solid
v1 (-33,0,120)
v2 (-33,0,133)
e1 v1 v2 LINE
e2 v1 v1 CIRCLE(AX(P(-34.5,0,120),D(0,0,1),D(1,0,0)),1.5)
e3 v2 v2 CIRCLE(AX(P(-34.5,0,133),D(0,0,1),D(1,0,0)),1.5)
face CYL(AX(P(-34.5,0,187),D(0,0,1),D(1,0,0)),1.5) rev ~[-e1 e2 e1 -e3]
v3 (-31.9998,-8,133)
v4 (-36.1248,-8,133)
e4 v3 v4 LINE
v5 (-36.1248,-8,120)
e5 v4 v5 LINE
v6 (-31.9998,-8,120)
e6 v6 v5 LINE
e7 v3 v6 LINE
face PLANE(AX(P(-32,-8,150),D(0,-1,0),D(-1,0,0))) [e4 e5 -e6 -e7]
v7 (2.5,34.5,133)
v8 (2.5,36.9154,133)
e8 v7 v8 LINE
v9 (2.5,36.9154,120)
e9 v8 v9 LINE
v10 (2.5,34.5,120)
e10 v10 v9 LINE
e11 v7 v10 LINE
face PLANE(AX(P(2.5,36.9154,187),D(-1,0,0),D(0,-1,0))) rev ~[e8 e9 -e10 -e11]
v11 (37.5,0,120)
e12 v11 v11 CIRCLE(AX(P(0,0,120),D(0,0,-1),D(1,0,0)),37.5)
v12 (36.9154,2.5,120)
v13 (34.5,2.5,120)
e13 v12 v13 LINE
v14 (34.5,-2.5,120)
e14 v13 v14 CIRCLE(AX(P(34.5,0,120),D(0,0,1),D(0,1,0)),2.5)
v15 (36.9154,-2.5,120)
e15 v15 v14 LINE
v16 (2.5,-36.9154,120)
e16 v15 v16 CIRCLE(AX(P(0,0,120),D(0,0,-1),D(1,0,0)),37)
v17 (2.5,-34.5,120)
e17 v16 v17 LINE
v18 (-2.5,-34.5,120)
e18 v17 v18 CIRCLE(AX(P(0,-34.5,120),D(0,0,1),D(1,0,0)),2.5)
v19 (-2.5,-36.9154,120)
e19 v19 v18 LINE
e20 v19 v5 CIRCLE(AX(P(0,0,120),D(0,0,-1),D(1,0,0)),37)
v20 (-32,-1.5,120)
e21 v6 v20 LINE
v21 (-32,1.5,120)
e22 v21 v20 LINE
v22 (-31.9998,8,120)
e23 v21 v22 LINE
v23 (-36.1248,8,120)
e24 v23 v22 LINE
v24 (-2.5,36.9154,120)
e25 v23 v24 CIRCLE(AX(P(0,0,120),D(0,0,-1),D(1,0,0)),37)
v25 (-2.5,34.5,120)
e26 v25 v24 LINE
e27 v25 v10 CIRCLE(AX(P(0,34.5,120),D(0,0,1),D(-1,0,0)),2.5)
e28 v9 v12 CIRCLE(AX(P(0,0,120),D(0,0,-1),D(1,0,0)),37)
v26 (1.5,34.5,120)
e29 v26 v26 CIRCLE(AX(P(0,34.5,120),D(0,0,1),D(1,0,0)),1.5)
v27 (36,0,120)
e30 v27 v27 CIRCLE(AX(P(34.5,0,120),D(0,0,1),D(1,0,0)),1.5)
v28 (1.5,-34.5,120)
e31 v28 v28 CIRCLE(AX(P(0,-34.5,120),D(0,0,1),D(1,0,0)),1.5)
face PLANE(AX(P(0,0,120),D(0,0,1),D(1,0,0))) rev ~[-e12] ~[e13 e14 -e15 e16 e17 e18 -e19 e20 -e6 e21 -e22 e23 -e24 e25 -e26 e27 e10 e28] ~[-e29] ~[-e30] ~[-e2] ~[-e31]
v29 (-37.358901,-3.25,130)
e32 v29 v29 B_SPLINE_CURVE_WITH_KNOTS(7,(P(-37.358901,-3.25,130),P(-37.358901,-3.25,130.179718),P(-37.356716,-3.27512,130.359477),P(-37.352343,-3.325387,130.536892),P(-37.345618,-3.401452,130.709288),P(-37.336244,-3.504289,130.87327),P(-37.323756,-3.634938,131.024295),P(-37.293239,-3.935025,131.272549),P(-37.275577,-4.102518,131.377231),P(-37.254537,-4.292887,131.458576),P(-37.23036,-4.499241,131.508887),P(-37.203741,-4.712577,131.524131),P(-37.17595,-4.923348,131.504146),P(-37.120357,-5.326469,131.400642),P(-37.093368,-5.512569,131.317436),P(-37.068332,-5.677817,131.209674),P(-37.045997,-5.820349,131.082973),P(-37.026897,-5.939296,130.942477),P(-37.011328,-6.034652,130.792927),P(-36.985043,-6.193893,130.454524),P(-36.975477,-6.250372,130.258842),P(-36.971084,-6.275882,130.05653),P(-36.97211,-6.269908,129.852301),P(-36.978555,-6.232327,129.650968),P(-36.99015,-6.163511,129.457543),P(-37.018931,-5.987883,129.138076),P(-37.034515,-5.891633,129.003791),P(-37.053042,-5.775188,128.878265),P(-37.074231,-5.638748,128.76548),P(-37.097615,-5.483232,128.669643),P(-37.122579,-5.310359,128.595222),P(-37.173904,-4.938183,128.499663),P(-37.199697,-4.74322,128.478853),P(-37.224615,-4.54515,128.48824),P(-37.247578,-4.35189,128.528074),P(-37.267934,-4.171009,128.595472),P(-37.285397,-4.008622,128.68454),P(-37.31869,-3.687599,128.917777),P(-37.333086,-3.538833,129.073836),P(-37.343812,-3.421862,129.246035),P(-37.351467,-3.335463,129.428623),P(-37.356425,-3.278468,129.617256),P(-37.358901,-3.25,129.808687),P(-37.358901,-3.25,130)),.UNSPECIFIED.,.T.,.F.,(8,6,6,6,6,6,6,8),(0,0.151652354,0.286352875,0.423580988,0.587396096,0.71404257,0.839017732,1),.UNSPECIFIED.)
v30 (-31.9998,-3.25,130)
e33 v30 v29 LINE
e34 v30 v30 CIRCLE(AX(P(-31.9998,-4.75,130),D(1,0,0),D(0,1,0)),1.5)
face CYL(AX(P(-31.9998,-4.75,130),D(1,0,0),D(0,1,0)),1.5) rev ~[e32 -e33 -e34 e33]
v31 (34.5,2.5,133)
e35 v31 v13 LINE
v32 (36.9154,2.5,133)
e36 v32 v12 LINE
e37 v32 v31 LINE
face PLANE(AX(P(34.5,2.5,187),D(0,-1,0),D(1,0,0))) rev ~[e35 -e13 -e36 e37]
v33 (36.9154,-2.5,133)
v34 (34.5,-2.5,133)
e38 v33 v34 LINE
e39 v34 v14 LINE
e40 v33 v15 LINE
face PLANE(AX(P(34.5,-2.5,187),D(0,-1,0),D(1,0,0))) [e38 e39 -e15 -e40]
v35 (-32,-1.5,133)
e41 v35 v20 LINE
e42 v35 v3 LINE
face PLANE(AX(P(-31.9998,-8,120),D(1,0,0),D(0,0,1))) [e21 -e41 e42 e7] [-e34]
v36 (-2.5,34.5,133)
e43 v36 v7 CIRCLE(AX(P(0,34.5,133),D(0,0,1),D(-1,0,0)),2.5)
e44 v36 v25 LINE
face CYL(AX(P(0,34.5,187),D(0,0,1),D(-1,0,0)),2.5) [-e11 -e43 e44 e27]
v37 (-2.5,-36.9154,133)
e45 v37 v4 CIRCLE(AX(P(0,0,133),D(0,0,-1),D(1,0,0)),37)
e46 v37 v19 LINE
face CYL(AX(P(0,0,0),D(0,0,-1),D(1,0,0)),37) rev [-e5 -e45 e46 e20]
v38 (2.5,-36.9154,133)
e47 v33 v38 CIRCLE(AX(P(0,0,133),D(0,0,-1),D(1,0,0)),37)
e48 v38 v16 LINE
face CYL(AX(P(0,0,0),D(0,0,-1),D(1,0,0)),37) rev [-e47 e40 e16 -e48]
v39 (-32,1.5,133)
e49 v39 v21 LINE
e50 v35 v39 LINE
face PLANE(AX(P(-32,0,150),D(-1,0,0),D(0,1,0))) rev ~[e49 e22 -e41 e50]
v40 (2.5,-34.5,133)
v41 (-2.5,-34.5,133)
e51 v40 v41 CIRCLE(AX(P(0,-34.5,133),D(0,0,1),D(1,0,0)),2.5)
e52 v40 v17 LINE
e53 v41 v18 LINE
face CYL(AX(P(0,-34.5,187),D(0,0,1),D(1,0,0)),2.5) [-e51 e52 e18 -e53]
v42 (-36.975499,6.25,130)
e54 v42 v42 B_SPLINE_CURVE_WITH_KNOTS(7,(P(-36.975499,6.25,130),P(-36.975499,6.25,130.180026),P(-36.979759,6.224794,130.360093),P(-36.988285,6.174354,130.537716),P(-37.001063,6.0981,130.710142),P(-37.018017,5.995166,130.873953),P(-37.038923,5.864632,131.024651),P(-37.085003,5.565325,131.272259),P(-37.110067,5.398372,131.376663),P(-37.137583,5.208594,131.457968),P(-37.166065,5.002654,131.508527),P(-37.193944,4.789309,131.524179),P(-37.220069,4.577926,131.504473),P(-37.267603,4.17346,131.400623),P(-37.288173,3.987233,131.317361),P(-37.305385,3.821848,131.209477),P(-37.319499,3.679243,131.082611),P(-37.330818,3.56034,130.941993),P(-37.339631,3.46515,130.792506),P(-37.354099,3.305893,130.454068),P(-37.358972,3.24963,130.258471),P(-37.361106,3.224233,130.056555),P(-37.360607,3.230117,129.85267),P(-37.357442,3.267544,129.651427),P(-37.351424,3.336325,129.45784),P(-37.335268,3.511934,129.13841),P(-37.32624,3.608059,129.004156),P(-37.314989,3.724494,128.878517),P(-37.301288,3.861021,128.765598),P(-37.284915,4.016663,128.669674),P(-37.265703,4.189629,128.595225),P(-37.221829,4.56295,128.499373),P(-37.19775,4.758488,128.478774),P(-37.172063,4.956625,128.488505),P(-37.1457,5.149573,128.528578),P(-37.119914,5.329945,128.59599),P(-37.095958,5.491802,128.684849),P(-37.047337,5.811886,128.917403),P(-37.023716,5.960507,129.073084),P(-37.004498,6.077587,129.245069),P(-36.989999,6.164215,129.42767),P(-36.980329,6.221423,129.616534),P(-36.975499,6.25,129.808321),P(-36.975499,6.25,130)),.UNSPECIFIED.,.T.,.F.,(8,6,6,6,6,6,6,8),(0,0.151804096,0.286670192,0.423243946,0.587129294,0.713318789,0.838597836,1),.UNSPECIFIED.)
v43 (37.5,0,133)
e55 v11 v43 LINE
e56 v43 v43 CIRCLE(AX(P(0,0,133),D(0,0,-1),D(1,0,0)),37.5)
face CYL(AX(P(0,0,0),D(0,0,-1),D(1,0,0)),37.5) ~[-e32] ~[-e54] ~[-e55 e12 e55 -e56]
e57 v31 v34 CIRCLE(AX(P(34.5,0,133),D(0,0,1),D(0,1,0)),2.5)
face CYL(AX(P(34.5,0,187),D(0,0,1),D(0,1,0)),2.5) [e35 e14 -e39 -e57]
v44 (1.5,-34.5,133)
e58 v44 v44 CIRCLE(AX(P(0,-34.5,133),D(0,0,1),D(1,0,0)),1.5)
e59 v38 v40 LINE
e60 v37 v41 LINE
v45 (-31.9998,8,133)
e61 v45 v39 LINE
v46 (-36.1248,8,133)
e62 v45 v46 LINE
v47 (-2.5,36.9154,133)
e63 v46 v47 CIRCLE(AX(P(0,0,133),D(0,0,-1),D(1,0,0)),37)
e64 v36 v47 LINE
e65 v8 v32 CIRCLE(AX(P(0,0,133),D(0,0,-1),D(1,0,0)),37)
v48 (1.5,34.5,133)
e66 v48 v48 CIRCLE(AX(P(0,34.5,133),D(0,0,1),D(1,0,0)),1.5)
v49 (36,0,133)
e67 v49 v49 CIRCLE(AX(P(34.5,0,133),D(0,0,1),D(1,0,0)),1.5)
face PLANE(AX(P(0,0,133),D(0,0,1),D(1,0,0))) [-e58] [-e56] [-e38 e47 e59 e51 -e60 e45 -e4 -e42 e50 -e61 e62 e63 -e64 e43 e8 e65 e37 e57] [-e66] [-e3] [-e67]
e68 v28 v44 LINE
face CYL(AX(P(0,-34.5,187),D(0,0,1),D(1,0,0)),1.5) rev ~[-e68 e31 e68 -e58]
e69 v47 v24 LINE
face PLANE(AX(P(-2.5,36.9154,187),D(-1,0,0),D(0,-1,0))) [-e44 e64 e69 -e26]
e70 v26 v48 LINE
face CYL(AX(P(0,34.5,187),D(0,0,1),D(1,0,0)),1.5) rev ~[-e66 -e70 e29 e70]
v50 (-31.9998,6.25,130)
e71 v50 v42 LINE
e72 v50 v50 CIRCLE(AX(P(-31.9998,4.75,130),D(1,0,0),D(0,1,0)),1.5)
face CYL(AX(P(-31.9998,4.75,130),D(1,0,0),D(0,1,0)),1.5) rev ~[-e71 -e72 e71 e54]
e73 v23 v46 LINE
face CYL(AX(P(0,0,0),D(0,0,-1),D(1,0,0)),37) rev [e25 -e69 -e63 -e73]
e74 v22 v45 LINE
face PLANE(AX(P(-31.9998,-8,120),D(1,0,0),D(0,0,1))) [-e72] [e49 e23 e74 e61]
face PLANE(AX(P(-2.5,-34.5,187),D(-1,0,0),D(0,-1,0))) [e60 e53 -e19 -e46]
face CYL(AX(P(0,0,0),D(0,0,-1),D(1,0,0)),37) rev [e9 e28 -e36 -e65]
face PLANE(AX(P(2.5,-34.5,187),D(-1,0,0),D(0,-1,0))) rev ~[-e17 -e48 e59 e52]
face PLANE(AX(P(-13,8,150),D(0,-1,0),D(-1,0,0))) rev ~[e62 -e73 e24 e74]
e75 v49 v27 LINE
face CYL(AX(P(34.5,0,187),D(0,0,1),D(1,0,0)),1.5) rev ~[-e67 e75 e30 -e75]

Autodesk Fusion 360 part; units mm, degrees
sketch "Esboço2" plane through (0, 0, 0) normal (0, 0, 1) x (1, 0, 0)
  circle A0 centre (0, 0) radius 37.5
  circle A1 centre (0, 0) radius 37
  dimension "d6" = 75
  dimension "d7" = 74
extrude "Extrusão2" add sketch "Esboço2" along normal blind 190
ref_plane "Plano de trabalho9" through (0, 0, 187) normal (0, 0, 1) x (1, 0, 0)
sketch "Esboço10" plane through (0, 0, 187) normal (0, 0, 1) x (1, 0, 0)
  circle A0 centre (0, 0) radius 34.5 construction
  line L0 (0, 0) -> (-68.1762, 0) construction
  line L1 (0, 0) -> (60, 0) construction
  line L2 (0, 0) -> (0, 45) construction
  line L3 (0, 0) -> (0, -43.1659) construction
  circle A1 centre (34.5, 0) radius 1.5
  line L4 (3, -43) -> (3, -42)
  circle A2 centre (0, 34.5) radius 1.5
  circle A3 centre (-34.5, 0) radius 1.5
  circle A4 centre (0, -34.5) radius 1.5
  arc A5 (34.5, 2.5) -> (34.5, -2.5) centre (34.5, 0) ccw
  arc A6 (-2.5, 34.5) -> (2.5, 34.5) centre (0, 34.5) ccw
  arc A7 (-34.5, -2.5) -> (-34.5, 2.5) centre (-34.5, 0) ccw
  arc A8 (2.5, -34.5) -> (-2.5, -34.5) centre (0, -34.5) ccw
  circle A9 centre (0, 0) radius 37
  line L5 (-36.9154, 2.5) -> (-34.4093, 2.5)
  line L6 (-36.9154, -2.5) -> (-34.4093, -2.5)
  line L7 (34.5, 2.5) -> (36.9154, 2.5)
  line L8 (34.5, -2.5) -> (36.9154, -2.5)
  line L9 (2.5, 36.9154) -> (2.5, 34.4093)
  line L10 (-2.5, 36.9154) -> (-2.5, 34.4093)
  line L11 (-2.5, -34.4093) -> (-2.5, -36.9154)
  line L12 (2.5, -34.4093) -> (2.5, -36.9154)
  dimension "d82" = 69
  dimension "d83" = 3
  dimension "d84" = 2.5
  dimension "d85" = 2.5
  dimension "d87" = 360
  dimension "d89" = 360
  dimension "d90" = 2.5
extrude "Extrusão12" add sketch "Esboço10" against normal blind 184 contours A5 A9 L7 L8 | A6 A9 L9 L10 | A8 A9 L11 L12 | A7 A9 L5 L6
thread "Rosca3"
ref_plane "Plano de trabalho3" through (0, 0, 32) normal (0, 0, 1) x (1, 0, 0)
sketch "Esboço3" plane through (0, 0, 32) normal (0, 0, 1) x (1, 0, 0)
  line L0 (0, 0) -> (0, 37) construction
  line L1 (34.2491, 14) -> (-34.2491, 14)
  circle A0 centre (0, 0) radius 37
  line L2 (31.1288, 20) -> (-31.1288, 20)
  line L3 (32.8634, 17) -> (-32.8634, 17)
  circle A1 centre (0, 0) radius 50
  circle A2 centre (0, 0) radius 37.5
  line L4 (-8, 0) -> (8, 0)
  line L5 (8, 0) -> (8, 36.1248)
  line L6 (-8, 0) -> (-8, 36.1248)
  circle A3 centre (0, 34.5) radius 1.5
  line L7 (1.5, 32.5) -> (1.5, 0)
  arc A4 (-2.5, 34.5) -> (2.5, 34.5) centre (0, 34.5) ccw
  line L8 (-1.5, 32.5) -> (-1.5, 0)
  line L9 (27.8634, 24.3441) -> (27.8634, 11)
  line L10 (27.8634, 11) -> (35.327, 11)
  line L11 (-27.8634, 11) -> (-35.327, 11)
  line L12 (-27.8634, 24.3441) -> (-27.8634, 11)
  line L13 (-30.4631, 21) -> (30.4631, 21)
  line L14 (-34.641, 13) -> (34.641, 13)
  line L15 (0, 32) -> (8, 32)
  line L16 (0, 32) -> (-8, 32)
  dimension "d12" = 6
  dimension "d15" = 3
  dimension "d17" = 75
  dimension "d18" = 100
  dimension "d41" = 14
  dimension "d51" = 8
  dimension "d52" = 16
  dimension "d99" = 3
  dimension "d100" = 2.5
  dimension "d115" = 6.5
  dimension "d123" = 5
  dimension "d124" = 6
  dimension "d143" = 4
  dimension "d144" = 4
extrude "Extrusão21" add sketch "Esboço3" along normal blind 6 and the other way blind 6 contours L1 A0 L9 L14 | L1 A0 L3 L9 | A0 L9 L10 L14 | A0 L2 L3 L9 | A0 L2 L9 L13 | A0 L9 L13 | A0 L11 L12 L14 | L1 A0 L12 L14 | L1 A0 L3 L12 | A0 L2 L3 L12 | A0 L12 L13 | A0 L2 L12 L13
sketch "Esboço18" plane through (-27.8634, 0, 0) normal (1, 0, 0) x (0, 1, 0)
  line L0 (24.3441, 26) -> (24.3441, 38)
  line L1 (24.3441, 38) -> (11, 38)
  line L2 (11, 38) -> (11, 26)
  line L3 (11, 26) -> (24.3441, 26)
  circle A0 centre (17, 32) radius 4
  point P0 (11, 32)
  dimension "d166" = 8
  dimension "d167" = 6
  dimension "d168" = 6
ref_plane "Plano de trabalho11" through (0, 0, 0) normal (1, 0, 0) x (0, 1, 0)
extrude "Extrusão23" cut sketch "Esboço18" against normal blind 15 contours A0
extrude "Extrusão7" add sketch "Esboço3" along normal blind 30 and the other way blind 30 contours L1 L5 L7 L14 | L1 L3 L5 L7 | L4 L5 L7 L14 | L2 L3 L5 L7 | L1 L6 L8 L14 | L1 L3 L6 L8 | L2 L5 L7 L13 | L2 L3 L6 L8 | L4 L6 L8 L14 | L5 L7 L13 L15 | A0 L5 L6 L7 A4 L8 L15 L16 | L2 L6 L8 L13 | L6 L8 L13 L16 | L7 A4 L15 | A4 L8 L16
sketch "Esboço19" plane through (27.8634, 0, 0) normal (-1, 0, 0) x (0, -1, 0)
  line L0 (-11, 26) -> (-11, 38)
  line L1 (-11, 38) -> (-24.3441, 38)
  line L2 (-24.3441, 38) -> (-24.3441, 26)
  line L3 (-24.3441, 26) -> (-11, 26)
extrude "Extrusão24" cut sketch "Esboço18" along normal blind 80 contours A0
sketch "Esboço11" plane through (8, 0, 0) normal (1, 0, 0) x (0, 1, 0)
  line L0 (0, 2) -> (36.1248, 2)
  line L1 (36.1248, 2) -> (36.1248, 62)
  line L2 (36.1248, 62) -> (0, 62)
  line L3 (0, 62) -> (0, 2)
  circle A0 centre (17, 32) radius 3
  circle A1 centre (17, 32) radius 9.5
  circle A2 centre (17, 32) radius 12.5
  line L4 (36.1248, 32) -> (36.1248, -5) construction
  line L5 (0, 32) -> (36.1248, 32)
  line L6 (30.1248, 2) -> (8.3278, 22.9976)
  line L7 (30.1248, 62) -> (8.3278, 41.0024)
  line L8 (30.1248, 2) -> (31.9998, 2)
  line L9 (31.9998, 2) -> (31.9998, 32)
  line L10 (30.1248, 62) -> (31.9998, 62)
  line L11 (31.9998, 62) -> (31.9998, 32)
  circle A3 centre (17, 32) radius 4
  point P0 (14, 32)
  point P1 (20, 32)
  dimension "d106" = 6
  dimension "d107" = 19
  dimension "d109" = 25
  dimension "d110" = 6
  dimension "d147" = 1.875
extrude "Extrusão13" cut sketch "Esboço11" against normal blind 16 contours L0 L3 A2 L5 L6 | L0 A2 L5 L6 L8 L9 | L2 L3 A2 L5 L7 | A1 A2 L5 | A1 A2 L5 | L2 A2 L5 L7 L10 L11 | A1 L5 A3 | A1 L5 A3 | A0 L5 A3 | A0 L5 A3 | A0 L5 | A0 L5
ref_plane "Plano de trabalho4" through (0, 0, 150) normal (0, 0, 1) x (1, 0, 0)
sketch "Esboço4" plane through (0, 0, 150) normal (0, 0, 1) x (1, 0, 0)
  circle A0 centre (0, 0) radius 37
  circle A1 centre (0, 0) radius 50
  circle A2 centre (0, 0) radius 37.5
  line L0 (-20, -31.1288) -> (-20, 31.1288)
  line L1 (-17, -32.8634) -> (-17, 32.8634)
  line L2 (-14, -34.2491) -> (-14, 34.2491)
  line L3 (0, 8) -> (0, -8)
  line L4 (0, 8) -> (-36.1248, 8)
  line L5 (0, -8) -> (-36.1248, -8)
  line L6 (0, 0) -> (-37, 0) construction
  circle A3 centre (-34.5, 0) radius 1.5
  line L7 (0, 1.5) -> (-32.5, 1.5)
  arc A4 (-34.5, -2.5) -> (-34.5, 2.5) centre (-34.5, 0) ccw
  line L8 (0, -1.5) -> (-32.5, -1.5)
  line L9 (-24.3441, -27.8634) -> (-11, -27.8634)
  line L10 (-11, -27.8634) -> (-11, -35.327)
  line L11 (-24.3441, 27.8634) -> (-11, 27.8634)
  line L12 (-11, 27.8634) -> (-11, 35.327)
  line L13 (-13, 34.641) -> (-13, -34.641)
  line L14 (-21, 30.4631) -> (-21, -30.4631)
  line L15 (-32, 0) -> (-32, 8)
  line L16 (-32, 0) -> (-32, -8)
  dimension "d28" = 75
  dimension "d29" = 100
  dimension "d38" = 14
  dimension "d39" = 6
  dimension "d40" = 3
  dimension "d43" = 16
  dimension "d44" = 8
  dimension "d101" = 3
  dimension "d102" = 2.5
  dimension "d116" = 6.5
  dimension "d135" = 6
  dimension "d136" = 5
  dimension "d145" = 4
  dimension "d146" = 4
extrude "Extrusão25" add sketch "Esboço4" along normal blind 6 and the other way blind 6 contours A0 L11 L12 L13 | A0 L9 L10 L13 | A0 L2 L11 L13 | A0 L2 L9 L13 | A0 L1 L2 L11 | A0 L1 L2 L9 | A0 L0 L1 L11 | A0 L0 L1 L9 | A0 L0 L11 L14 | A0 L0 L9 L14 | A0 L11 L14 | A0 L9 L14
sketch "Esboço20" plane through (0, 27.8634, 0) normal (0, -1, 0) x (1, 0, 0)
  line L0 (-11, 144) -> (-11, 156)
  line L1 (-11, 156) -> (-24.3441, 156)
  line L2 (-24.3441, 156) -> (-24.3441, 144)
  line L3 (-24.3441, 144) -> (-11, 144)
  circle A0 centre (-17, 150) radius 4
  dimension "d179" = 8
  dimension "d180" = 6
  dimension "d182" = 6
extrude "Extrusão26" cut sketch "Esboço20" against normal blind 15 contours A0
sketch "Esboço21" plane through (0, -27.8634, 0) normal (0, 1, 0) x (-1, 0, 0)
  line L0 (24.3441, 144) -> (24.3441, 156)
  line L1 (24.3441, 156) -> (11, 156)
  line L2 (11, 156) -> (11, 144)
  line L3 (11, 144) -> (24.3441, 144)
  circle A0 centre (17, 150) radius 4
  dimension "d185" = 8
  dimension "d186" = 6
  dimension "d187" = 6
extrude "Extrusão27" cut sketch "Esboço21" against normal blind 15 contours A0
extrude "Extrusão6" add sketch "Esboço4" along normal blind 30 and the other way blind 30 contours L2 L4 L7 L13 | L3 L4 L7 L13 | L3 L5 L8 L13 | L2 L5 L8 L13 | L1 L2 L4 L7 | L1 L2 L5 L8 | L0 L1 L4 L7 | L0 L1 L5 L8 | L0 L4 L7 L14 | L0 L5 L8 L14 | A0 L4 L5 L7 A4 L8 L15 L16 | L4 L7 L14 L15 | L5 L8 L14 L16 | L7 A4 L15 | A4 L8 L16
sketch "Esboço13" plane through (0, -8, 0) normal (0, -1, 0) x (1, 0, 0)
  line L0 (0, 120) -> (0, 180)
  line L1 (0, 180) -> (-36.1248, 180)
  line L2 (-36.1248, 180) -> (-36.1248, 120)
  line L3 (-36.1248, 120) -> (0, 120)
  circle A0 centre (-17, 150) radius 3
  circle A1 centre (-17, 150) radius 9.5
  circle A2 centre (-17, 150) radius 12.5
  line L4 (-36.1248, 150) -> (-36.1248, 198.4836) construction
  line L5 (-30.1248, 180) -> (-6.6704, 157.4058)
  line L6 (0, 150) -> (-36.1248, 150)
  line L7 (-30.1248, 120) -> (-6.6704, 142.5942)
  line L8 (-30.1248, 180) -> (-31.9998, 180)
  line L9 (-31.9998, 180) -> (-31.9998, 150)
  line L10 (-30.1248, 120) -> (-31.9998, 120)
  line L11 (-31.9998, 120) -> (-31.9998, 150)
  point P0 (-14, 150)
  point P1 (-20, 150)
  dimension "d117" = 6
  dimension "d118" = 19
  dimension "d119" = 25
  dimension "d120" = 6
  dimension "d148" = 1.875
extrude "Extrusão14" cut sketch "Esboço13" against normal blind 16 contours L0 L3 A2 L6 L7 | L0 L1 A2 L5 L6 | L3 A2 L6 L7 L10 L11 | A1 A2 L6 | A1 A2 L6 | L1 A2 L5 L6 L8 L9 | A0 A1 L6 | A0 A1 L6 | A0 L6 | A0 L6
ref_plane "Plano de trabalho5" through (0, 0, 0) normal (1, 0, 0) x (0, 1, 0)
ref_plane "Plano de trabalho6" through (0, 0, 0) normal (0, 1, 0) x (0, 0, 1)
ref_plane "Plano de trabalho7" through (0, 0, 134.3) normal (0, 0, 1) x (1, 0, 0)
sketch "Esboço8" plane through (0, 0, 134.3) normal (0, 0, 1) x (1, 0, 0)
  line L0 (46.3444, 0) -> (0, 0) construction
  line L1 (8, 36.1248) -> (8, -36.1248)
  line L2 (-8, -36.1248) -> (-8, 36.1248)
  circle A0 centre (0, 0) radius 37
  line L3 (0, 0) -> (0, 37) construction
  circle A1 centre (0, 34.5) radius 1.5
  circle A2 centre (0, -34.5) radius 1.5
  dimension "d72" = 8
  dimension "d73" = 8
  dimension "d95" = 2.5
  dimension "d96" = 3
extrude "Extrusão10" add sketch "Esboço8" along normal blind 2 contours L1 L2 A0
ref_plane "Plano de trabalho8" through (0, 0, 45.7) normal (0, 0, 1) x (1, 0, 0)
sketch "Esboço9" plane through (0, 0, 45.7) normal (0, 0, 1) x (1, 0, 0)
  line L0 (0, 0) -> (-37, 0) construction
  line L1 (-36.1248, 8) -> (36.1248, 8)
  line L2 (-36.1248, -8) -> (36.1248, -8)
  circle A0 centre (0, 0) radius 37
  circle A1 centre (-34.5, 0) radius 1.5
  line L3 (0, 0) -> (0, 43.2459) construction
  circle A2 centre (34.5, 0) radius 1.5
  dimension "d77" = 8
  dimension "d78" = 8
  dimension "d97" = 3
  dimension "d98" = 2.5
extrude "Extrusão11" add sketch "Esboço9" along normal blind 2 contours L1 L2 A0
ref_plane "Plano de trabalho10" through (8, 18.0624, 32) normal (1, 0, 0) x (0, 1, 0)
sketch "Esboço16" plane through (-31.9998, 0, 0) normal (1, 0, 0) x (0, 1, 0)
  line L0 (1.5, 180) -> (1.5, 120)
  line L1 (1.5, 120) -> (8, 120)
  line L2 (8, 120) -> (8, 180)
  line L3 (8, 180) -> (1.5, 180)
  line L4 (4.75, 180) -> (4.75, 120) construction
  circle A0 centre (4.75, 170) radius 1.5
  circle A1 centre (4.75, 130) radius 1.5
  line L5 (8, 150) -> (-12.335, 150) construction
  line L6 (0, 2.5) -> (0, 20)
  circle A2 centre (-4.75, 170) radius 1.5
  circle A3 centre (-4.75, 130) radius 1.5
  dimension "d149" = 3
  dimension "d150" = 3
  dimension "d151" = 40
  dimension "d152" = 20
extrude "Extrusão19" cut sketch "Esboço16" against normal blind 10 contours A0 | A1 | A2 | A3
sketch "Esboço17" plane through (0, 31.9998, 0) normal (0, -1, 0) x (1, 0, 0)
  line L0 (1.5, 62) -> (1.5, 2)
  line L1 (1.5, 2) -> (8, 2)
  line L2 (8, 2) -> (8, 62)
  line L3 (8, 62) -> (1.5, 62)
  line L4 (4.75, 2) -> (4.75, 62) construction
  line L5 (8, 32) -> (-12, 32) construction
  circle A0 centre (4.75, 52) radius 1.5
  circle A1 centre (4.75, 12) radius 1.5
  line L6 (0, 1.75) -> (0, 22.5)
  circle A2 centre (-4.75, 12) radius 1.5
  circle A3 centre (-4.75, 52) radius 1.5
  dimension "d155" = 3
  dimension "d156" = 3
  dimension "d157" = 40
  dimension "d158" = 20
extrude "Extrusão20" cut sketch "Esboço17" against normal blind 10 contours A0 | A1 | A2 | A3
thread "Rosca4"
thread "Rosca5"
sketch "Esboço22" plane through (0, 0, 136.3) normal (0, 0, 1) x (-1, 0, 0)
  line L0 (2.5, 36.9154) -> (2.5, 34.5)
  arc A0 (-2.5, 34.5) -> (2.5, 34.5) centre (0, 34.5) ccw
  line L1 (-2.5, 34.5) -> (-2.5, 36.9154)
  arc A1 (-2.5, 36.9154) -> (-8, 36.1248) centre (0, 0) ccw
  line L2 (-8, 36.1248) -> (-8, -36.1248)
  arc A2 (-8, -36.1248) -> (-2.5, -36.9154) centre (0, 0) ccw
  line L3 (-2.5, -36.9154) -> (-2.5, -34.5)
  arc A3 (2.5, -34.5) -> (-2.5, -34.5) centre (0, -34.5) ccw
  line L4 (2.5, -34.5) -> (2.5, -36.9154)
  arc A4 (2.5, -36.9154) -> (8, -36.1248) centre (0, 0) ccw
  line L5 (8, -36.1248) -> (8, 36.1248)
  arc A5 (8, 36.1248) -> (2.5, 36.9154) centre (0, 0) ccw
  line L6 (0, 0) -> (-21, 0) construction
  line L7 (0, 0) -> (0, -19.3) construction
  line L8 (2, -15.8) -> (-2, -15.8)
  arc A6 (-2, -15.8) -> (-2, -22.8) centre (-2, -19.3) ccw
  line L9 (-2, -22.8) -> (2, -22.8)
  arc A7 (2, -22.8) -> (2, -15.8) centre (2, -19.3) ccw
  line L10 (2, -19.3) -> (-2, -19.3) construction
  arc A8 (-2, 22.8) -> (-2, 15.8) centre (-2, 19.3) ccw
  line L11 (2, 15.8) -> (-2, 15.8)
  arc A9 (2, 15.8) -> (2, 22.8) centre (2, 19.3) ccw
  line L12 (-2, 22.8) -> (2, 22.8)
  circle A10 centre (0, 10.8) radius 1.5 construction
  line L13 (2, 19.3) -> (-2, 19.3) construction
  line L14 (2, 12.3) -> (-2, 12.3)
  arc A11 (-2, 12.3) -> (-2, 9.3) centre (-2, 10.8) ccw
  line L15 (-2, 9.3) -> (2, 9.3)
  arc A12 (2, 9.3) -> (2, 12.3) centre (2, 10.8) ccw
  line L16 (2, 10.8) -> (-2, 10.8) construction
  line L17 (2, 26.3) -> (-2, 26.3)
  arc A13 (2, 26.3) -> (2, 29.3) centre (2, 27.8) ccw
  line L18 (-2, 29.3) -> (2, 29.3)
  arc A14 (-2, 29.3) -> (-2, 26.3) centre (-2, 27.8) ccw
  arc A15 (2, -29.3) -> (2, -26.3) centre (2, -27.8) ccw
  line L19 (2, -26.3) -> (-2, -26.3)
  arc A16 (-2, -26.3) -> (-2, -29.3) centre (-2, -27.8) ccw
  line L20 (-2, -29.3) -> (2, -29.3)
  arc A17 (2, -12.3) -> (2, -9.3) centre (2, -10.8) ccw
  line L21 (-2, -9.3) -> (2, -9.3)
  arc A18 (-2, -9.3) -> (-2, -12.3) centre (-2, -10.8) ccw
  line L22 (2, -12.3) -> (-2, -12.3)
  point P0 (0, -19.3)
  point P1 (0, 10.8)
  dimension "d191" = 19.3
  dimension "d195" = 2
  dimension "d196" = 3.5
  dimension "d204" = 3
  dimension "d205" = 8.5
  dimension "d230" = 1.5
  dimension "d231" = 4
extrude "Extrusão28" cut sketch "Esboço22" against normal blind 5 contours L8 A6 L9 A7 | A8 L11 A9 L12 | L14 A11 L15 A12 | L17 A13 L18 A14 | A15 L19 A16 L20 | A17 L21 A18 L22
sketch "Esboço23" plane through (0, 0, 45.7) normal (0, 0, -1) x (1, 0, 0)
  line L0 (36.9154, -2.5) -> (34.5, -2.5)
  arc A0 (34.5, 2.5) -> (34.5, -2.5) centre (34.5, 0) ccw
  line L1 (34.5, 2.5) -> (36.9154, 2.5)
  arc A1 (36.9154, 2.5) -> (36.1248, 8) centre (0, 0) ccw
  line L2 (36.1248, 8) -> (-36.1248, 8)
  arc A2 (-36.1248, 8) -> (-36.9154, 2.5) centre (0, 0) ccw
  line L3 (-36.9154, 2.5) -> (-34.5, 2.5)
  arc A3 (-34.5, -2.5) -> (-34.5, 2.5) centre (-34.5, 0) ccw
  line L4 (-34.5, -2.5) -> (-36.9154, -2.5)
  arc A4 (-36.9154, -2.5) -> (-36.1248, -8) centre (0, 0) ccw
  line L5 (-36.1248, -8) -> (36.1248, -8)
  arc A5 (36.1248, -8) -> (36.9154, -2.5) centre (0, 0) ccw
  line L6 (0, 0) -> (0, -19) construction
  line L7 (0, 0) -> (19.3, 0)
  line L8 (15.8, 2.5) -> (15.8, -2.5)
  arc A6 (15.8, -2.5) -> (22.8, -2.5) centre (19.3, -2.5) ccw
  line L9 (22.8, -2.5) -> (22.8, 2.5)
  arc A7 (22.8, 2.5) -> (15.8, 2.5) centre (19.3, 2.5) ccw
  line L10 (19.3, 2.5) -> (19.3, -2.5) construction
  line L11 (-15.8, 2.5) -> (-15.8, -2.5)
  arc A8 (-15.8, 2.5) -> (-22.8, 2.5) centre (-19.3, 2.5) ccw
  line L12 (-22.8, -2.5) -> (-22.8, 2.5)
  arc A9 (-22.8, -2.5) -> (-15.8, -2.5) centre (-19.3, -2.5) ccw
  circle A10 centre (10.8, 0) radius 1.5 construction
  circle A11 centre (27.8, 0) radius 1.5 construction
  line L13 (9.3, 2.5) -> (9.3, -2.5)
  arc A12 (9.3, -2.5) -> (12.3, -2.5) centre (10.8, -2.5) ccw
  line L14 (12.3, -2.5) -> (12.3, 2.5)
  arc A13 (12.3, 2.5) -> (9.3, 2.5) centre (10.8, 2.5) ccw
  line L15 (10.8, 2.5) -> (10.8, -2.5) construction
  line L16 (26.3, -2.5) -> (26.3, 2.5)
  arc A14 (26.3, -2.5) -> (29.3, -2.5) centre (27.8, -2.5) ccw
  line L17 (29.3, 2.5) -> (29.3, -2.5)
  arc A15 (29.3, 2.5) -> (26.3, 2.5) centre (27.8, 2.5) ccw
  line L18 (-12.3, -2.5) -> (-12.3, 2.5)
  arc A16 (-12.3, -2.5) -> (-9.3, -2.5) centre (-10.8, -2.5) ccw
  line L19 (-9.3, 2.5) -> (-9.3, -2.5)
  arc A17 (-9.3, 2.5) -> (-12.3, 2.5) centre (-10.8, 2.5) ccw
  line L20 (-26.3, -2.5) -> (-26.3, 2.5)
  arc A18 (-29.3, -2.5) -> (-26.3, -2.5) centre (-27.8, -2.5) ccw
  line L21 (-29.3, 2.5) -> (-29.3, -2.5)
  arc A19 (-26.3, 2.5) -> (-29.3, 2.5) centre (-27.8, 2.5) ccw
  point P0 (19.3, 0)
  point P1 (10.8, 0)
  dimension "d199" = 3.5
  dimension "d200" = 5
  dimension "d201" = 19.3
  dimension "d206" = 3
  dimension "d207" = 8.5
  dimension "d228" = 2.5
  dimension "d229" = 1.5
extrude "Extrusão29" cut sketch "Esboço23" against normal blind 10 contours L7 L13 L14 A13 | L8 A6 L9 A7 | L7 L13 A12 L14 | L11 A8 L12 A9 | L16 A14 L17 A15 | L20 A18 L21 A19
ref_plane "Plano de trabalho12" through (0, 0, 106.3) normal (0, 0, 1) x (1, 0, 0)
sketch "Esboço24" plane through (0, 0, 106.3) normal (0, 0, 1) x (1, 0, 0)
  line L0 (0, 0) -> (28.1868, 0) construction
  line L1 (16, 0) -> (16, 33.3617)
  circle A0 centre (0, 0) radius 37
  line L2 (16, 0) -> (16, -33.3617)
  line L3 (0, 0) -> (0, 19.3) construction
  line L4 (-16, 0) -> (-16, 33.3617)
  line L5 (-16, 0) -> (-16, -33.3617)
  line L6 (-2, 6.8) -> (2, 6.8)
  arc A1 (2, 6.8) -> (2, 31.8) centre (2, 19.3) ccw
  line L7 (2, 31.8) -> (-2, 31.8)
  arc A2 (-2, 31.8) -> (-2, 6.8) centre (-2, 19.3) ccw
  line L8 (-2, 19.3) -> (2, 19.3) construction
  arc A3 (2, -31.8) -> (2, -6.8) centre (2, -19.3) ccw
  arc A4 (-2, -6.8) -> (-2, -31.8) centre (-2, -19.3) ccw
  line L9 (-2, -6.8) -> (2, -6.8)
  line L10 (2, -31.8) -> (-2, -31.8)
  circle A5 centre (0, 34.5) radius 1.5
  circle A6 centre (0, -34.5) radius 1.5
  point P0 (0, 19.3)
  dimension "d209" = 16
  dimension "d210" = 12.5
  dimension "d211" = 4
  dimension "d212" = 19.3
  dimension "d215" = 3
  dimension "d216" = 34.5
ref_plane "Plano de trabalho13" through (0, 0, 55.7) normal (0, 0, -1) x (-1, 0, 0)
ref_plane "Plano de trabalho14" through (0, 0, 60) normal (0, 0, 1) x (1, 0, 0)
sketch "Esboço25" plane through (0, 0, 55.7) normal (0, 0, -1) x (1, 0, 0)
  line L0 (-33.3617, 16) -> (33.3617, 16)
  circle A0 centre (0, 0) radius 37
  line L1 (0, 0) -> (-19.3, 0) construction
  line L2 (-33.3617, -16) -> (33.3617, -16)
  line L3 (-6.8, -2) -> (-6.8, 2)
  arc A1 (-6.8, 2) -> (-31.8, 2) centre (-19.3, 2) ccw
  line L4 (-31.8, 2) -> (-31.8, -2)
  arc A2 (-31.8, -2) -> (-6.8, -2) centre (-19.3, -2) ccw
  line L5 (-19.3, -2) -> (-19.3, 2) construction
  circle A3 centre (-34.5, 0) radius 1.5
  line L6 (0, 0) -> (0, -12) construction
  arc A4 (31.8, 2) -> (6.8, 2) centre (19.3, 2) ccw
  line L7 (6.8, -2) -> (6.8, 2)
  arc A5 (6.8, -2) -> (31.8, -2) centre (19.3, -2) ccw
  circle A6 centre (34.5, 0) radius 1.5
  line L8 (31.8, 2) -> (31.8, -2)
  point P0 (-19.3, 0)
  dimension "d219" = 16
  dimension "d220" = 12.5
  dimension "d221" = 4
  dimension "d222" = 19.3
  dimension "d224" = 34.5
  dimension "d225" = 3
ref_plane "Plano de trabalho15" through (0, 0, 120) normal (0, 0, 1) x (1, 0, 0)
ref_plane "Plano de trabalho16" through (0, 0, 133) normal (0, 0, 1) x (1, 0, 0)
sketch "Esboço26" plane through (0, 0, 120) normal (0, 0, 1) x (1, 0, 0)
  circle A0 centre (0, 0) radius 48.1559
extrude "Extrusão32" cut sketch "Esboço26" against normal blind 200
sketch "Esboço27" plane through (0, 0, 133) normal (0, 0, 1) x (1, 0, 0)
  circle A0 centre (0, 0) radius 42.4696
extrude "Extrusão33" cut sketch "Esboço27" along normal blind 100
